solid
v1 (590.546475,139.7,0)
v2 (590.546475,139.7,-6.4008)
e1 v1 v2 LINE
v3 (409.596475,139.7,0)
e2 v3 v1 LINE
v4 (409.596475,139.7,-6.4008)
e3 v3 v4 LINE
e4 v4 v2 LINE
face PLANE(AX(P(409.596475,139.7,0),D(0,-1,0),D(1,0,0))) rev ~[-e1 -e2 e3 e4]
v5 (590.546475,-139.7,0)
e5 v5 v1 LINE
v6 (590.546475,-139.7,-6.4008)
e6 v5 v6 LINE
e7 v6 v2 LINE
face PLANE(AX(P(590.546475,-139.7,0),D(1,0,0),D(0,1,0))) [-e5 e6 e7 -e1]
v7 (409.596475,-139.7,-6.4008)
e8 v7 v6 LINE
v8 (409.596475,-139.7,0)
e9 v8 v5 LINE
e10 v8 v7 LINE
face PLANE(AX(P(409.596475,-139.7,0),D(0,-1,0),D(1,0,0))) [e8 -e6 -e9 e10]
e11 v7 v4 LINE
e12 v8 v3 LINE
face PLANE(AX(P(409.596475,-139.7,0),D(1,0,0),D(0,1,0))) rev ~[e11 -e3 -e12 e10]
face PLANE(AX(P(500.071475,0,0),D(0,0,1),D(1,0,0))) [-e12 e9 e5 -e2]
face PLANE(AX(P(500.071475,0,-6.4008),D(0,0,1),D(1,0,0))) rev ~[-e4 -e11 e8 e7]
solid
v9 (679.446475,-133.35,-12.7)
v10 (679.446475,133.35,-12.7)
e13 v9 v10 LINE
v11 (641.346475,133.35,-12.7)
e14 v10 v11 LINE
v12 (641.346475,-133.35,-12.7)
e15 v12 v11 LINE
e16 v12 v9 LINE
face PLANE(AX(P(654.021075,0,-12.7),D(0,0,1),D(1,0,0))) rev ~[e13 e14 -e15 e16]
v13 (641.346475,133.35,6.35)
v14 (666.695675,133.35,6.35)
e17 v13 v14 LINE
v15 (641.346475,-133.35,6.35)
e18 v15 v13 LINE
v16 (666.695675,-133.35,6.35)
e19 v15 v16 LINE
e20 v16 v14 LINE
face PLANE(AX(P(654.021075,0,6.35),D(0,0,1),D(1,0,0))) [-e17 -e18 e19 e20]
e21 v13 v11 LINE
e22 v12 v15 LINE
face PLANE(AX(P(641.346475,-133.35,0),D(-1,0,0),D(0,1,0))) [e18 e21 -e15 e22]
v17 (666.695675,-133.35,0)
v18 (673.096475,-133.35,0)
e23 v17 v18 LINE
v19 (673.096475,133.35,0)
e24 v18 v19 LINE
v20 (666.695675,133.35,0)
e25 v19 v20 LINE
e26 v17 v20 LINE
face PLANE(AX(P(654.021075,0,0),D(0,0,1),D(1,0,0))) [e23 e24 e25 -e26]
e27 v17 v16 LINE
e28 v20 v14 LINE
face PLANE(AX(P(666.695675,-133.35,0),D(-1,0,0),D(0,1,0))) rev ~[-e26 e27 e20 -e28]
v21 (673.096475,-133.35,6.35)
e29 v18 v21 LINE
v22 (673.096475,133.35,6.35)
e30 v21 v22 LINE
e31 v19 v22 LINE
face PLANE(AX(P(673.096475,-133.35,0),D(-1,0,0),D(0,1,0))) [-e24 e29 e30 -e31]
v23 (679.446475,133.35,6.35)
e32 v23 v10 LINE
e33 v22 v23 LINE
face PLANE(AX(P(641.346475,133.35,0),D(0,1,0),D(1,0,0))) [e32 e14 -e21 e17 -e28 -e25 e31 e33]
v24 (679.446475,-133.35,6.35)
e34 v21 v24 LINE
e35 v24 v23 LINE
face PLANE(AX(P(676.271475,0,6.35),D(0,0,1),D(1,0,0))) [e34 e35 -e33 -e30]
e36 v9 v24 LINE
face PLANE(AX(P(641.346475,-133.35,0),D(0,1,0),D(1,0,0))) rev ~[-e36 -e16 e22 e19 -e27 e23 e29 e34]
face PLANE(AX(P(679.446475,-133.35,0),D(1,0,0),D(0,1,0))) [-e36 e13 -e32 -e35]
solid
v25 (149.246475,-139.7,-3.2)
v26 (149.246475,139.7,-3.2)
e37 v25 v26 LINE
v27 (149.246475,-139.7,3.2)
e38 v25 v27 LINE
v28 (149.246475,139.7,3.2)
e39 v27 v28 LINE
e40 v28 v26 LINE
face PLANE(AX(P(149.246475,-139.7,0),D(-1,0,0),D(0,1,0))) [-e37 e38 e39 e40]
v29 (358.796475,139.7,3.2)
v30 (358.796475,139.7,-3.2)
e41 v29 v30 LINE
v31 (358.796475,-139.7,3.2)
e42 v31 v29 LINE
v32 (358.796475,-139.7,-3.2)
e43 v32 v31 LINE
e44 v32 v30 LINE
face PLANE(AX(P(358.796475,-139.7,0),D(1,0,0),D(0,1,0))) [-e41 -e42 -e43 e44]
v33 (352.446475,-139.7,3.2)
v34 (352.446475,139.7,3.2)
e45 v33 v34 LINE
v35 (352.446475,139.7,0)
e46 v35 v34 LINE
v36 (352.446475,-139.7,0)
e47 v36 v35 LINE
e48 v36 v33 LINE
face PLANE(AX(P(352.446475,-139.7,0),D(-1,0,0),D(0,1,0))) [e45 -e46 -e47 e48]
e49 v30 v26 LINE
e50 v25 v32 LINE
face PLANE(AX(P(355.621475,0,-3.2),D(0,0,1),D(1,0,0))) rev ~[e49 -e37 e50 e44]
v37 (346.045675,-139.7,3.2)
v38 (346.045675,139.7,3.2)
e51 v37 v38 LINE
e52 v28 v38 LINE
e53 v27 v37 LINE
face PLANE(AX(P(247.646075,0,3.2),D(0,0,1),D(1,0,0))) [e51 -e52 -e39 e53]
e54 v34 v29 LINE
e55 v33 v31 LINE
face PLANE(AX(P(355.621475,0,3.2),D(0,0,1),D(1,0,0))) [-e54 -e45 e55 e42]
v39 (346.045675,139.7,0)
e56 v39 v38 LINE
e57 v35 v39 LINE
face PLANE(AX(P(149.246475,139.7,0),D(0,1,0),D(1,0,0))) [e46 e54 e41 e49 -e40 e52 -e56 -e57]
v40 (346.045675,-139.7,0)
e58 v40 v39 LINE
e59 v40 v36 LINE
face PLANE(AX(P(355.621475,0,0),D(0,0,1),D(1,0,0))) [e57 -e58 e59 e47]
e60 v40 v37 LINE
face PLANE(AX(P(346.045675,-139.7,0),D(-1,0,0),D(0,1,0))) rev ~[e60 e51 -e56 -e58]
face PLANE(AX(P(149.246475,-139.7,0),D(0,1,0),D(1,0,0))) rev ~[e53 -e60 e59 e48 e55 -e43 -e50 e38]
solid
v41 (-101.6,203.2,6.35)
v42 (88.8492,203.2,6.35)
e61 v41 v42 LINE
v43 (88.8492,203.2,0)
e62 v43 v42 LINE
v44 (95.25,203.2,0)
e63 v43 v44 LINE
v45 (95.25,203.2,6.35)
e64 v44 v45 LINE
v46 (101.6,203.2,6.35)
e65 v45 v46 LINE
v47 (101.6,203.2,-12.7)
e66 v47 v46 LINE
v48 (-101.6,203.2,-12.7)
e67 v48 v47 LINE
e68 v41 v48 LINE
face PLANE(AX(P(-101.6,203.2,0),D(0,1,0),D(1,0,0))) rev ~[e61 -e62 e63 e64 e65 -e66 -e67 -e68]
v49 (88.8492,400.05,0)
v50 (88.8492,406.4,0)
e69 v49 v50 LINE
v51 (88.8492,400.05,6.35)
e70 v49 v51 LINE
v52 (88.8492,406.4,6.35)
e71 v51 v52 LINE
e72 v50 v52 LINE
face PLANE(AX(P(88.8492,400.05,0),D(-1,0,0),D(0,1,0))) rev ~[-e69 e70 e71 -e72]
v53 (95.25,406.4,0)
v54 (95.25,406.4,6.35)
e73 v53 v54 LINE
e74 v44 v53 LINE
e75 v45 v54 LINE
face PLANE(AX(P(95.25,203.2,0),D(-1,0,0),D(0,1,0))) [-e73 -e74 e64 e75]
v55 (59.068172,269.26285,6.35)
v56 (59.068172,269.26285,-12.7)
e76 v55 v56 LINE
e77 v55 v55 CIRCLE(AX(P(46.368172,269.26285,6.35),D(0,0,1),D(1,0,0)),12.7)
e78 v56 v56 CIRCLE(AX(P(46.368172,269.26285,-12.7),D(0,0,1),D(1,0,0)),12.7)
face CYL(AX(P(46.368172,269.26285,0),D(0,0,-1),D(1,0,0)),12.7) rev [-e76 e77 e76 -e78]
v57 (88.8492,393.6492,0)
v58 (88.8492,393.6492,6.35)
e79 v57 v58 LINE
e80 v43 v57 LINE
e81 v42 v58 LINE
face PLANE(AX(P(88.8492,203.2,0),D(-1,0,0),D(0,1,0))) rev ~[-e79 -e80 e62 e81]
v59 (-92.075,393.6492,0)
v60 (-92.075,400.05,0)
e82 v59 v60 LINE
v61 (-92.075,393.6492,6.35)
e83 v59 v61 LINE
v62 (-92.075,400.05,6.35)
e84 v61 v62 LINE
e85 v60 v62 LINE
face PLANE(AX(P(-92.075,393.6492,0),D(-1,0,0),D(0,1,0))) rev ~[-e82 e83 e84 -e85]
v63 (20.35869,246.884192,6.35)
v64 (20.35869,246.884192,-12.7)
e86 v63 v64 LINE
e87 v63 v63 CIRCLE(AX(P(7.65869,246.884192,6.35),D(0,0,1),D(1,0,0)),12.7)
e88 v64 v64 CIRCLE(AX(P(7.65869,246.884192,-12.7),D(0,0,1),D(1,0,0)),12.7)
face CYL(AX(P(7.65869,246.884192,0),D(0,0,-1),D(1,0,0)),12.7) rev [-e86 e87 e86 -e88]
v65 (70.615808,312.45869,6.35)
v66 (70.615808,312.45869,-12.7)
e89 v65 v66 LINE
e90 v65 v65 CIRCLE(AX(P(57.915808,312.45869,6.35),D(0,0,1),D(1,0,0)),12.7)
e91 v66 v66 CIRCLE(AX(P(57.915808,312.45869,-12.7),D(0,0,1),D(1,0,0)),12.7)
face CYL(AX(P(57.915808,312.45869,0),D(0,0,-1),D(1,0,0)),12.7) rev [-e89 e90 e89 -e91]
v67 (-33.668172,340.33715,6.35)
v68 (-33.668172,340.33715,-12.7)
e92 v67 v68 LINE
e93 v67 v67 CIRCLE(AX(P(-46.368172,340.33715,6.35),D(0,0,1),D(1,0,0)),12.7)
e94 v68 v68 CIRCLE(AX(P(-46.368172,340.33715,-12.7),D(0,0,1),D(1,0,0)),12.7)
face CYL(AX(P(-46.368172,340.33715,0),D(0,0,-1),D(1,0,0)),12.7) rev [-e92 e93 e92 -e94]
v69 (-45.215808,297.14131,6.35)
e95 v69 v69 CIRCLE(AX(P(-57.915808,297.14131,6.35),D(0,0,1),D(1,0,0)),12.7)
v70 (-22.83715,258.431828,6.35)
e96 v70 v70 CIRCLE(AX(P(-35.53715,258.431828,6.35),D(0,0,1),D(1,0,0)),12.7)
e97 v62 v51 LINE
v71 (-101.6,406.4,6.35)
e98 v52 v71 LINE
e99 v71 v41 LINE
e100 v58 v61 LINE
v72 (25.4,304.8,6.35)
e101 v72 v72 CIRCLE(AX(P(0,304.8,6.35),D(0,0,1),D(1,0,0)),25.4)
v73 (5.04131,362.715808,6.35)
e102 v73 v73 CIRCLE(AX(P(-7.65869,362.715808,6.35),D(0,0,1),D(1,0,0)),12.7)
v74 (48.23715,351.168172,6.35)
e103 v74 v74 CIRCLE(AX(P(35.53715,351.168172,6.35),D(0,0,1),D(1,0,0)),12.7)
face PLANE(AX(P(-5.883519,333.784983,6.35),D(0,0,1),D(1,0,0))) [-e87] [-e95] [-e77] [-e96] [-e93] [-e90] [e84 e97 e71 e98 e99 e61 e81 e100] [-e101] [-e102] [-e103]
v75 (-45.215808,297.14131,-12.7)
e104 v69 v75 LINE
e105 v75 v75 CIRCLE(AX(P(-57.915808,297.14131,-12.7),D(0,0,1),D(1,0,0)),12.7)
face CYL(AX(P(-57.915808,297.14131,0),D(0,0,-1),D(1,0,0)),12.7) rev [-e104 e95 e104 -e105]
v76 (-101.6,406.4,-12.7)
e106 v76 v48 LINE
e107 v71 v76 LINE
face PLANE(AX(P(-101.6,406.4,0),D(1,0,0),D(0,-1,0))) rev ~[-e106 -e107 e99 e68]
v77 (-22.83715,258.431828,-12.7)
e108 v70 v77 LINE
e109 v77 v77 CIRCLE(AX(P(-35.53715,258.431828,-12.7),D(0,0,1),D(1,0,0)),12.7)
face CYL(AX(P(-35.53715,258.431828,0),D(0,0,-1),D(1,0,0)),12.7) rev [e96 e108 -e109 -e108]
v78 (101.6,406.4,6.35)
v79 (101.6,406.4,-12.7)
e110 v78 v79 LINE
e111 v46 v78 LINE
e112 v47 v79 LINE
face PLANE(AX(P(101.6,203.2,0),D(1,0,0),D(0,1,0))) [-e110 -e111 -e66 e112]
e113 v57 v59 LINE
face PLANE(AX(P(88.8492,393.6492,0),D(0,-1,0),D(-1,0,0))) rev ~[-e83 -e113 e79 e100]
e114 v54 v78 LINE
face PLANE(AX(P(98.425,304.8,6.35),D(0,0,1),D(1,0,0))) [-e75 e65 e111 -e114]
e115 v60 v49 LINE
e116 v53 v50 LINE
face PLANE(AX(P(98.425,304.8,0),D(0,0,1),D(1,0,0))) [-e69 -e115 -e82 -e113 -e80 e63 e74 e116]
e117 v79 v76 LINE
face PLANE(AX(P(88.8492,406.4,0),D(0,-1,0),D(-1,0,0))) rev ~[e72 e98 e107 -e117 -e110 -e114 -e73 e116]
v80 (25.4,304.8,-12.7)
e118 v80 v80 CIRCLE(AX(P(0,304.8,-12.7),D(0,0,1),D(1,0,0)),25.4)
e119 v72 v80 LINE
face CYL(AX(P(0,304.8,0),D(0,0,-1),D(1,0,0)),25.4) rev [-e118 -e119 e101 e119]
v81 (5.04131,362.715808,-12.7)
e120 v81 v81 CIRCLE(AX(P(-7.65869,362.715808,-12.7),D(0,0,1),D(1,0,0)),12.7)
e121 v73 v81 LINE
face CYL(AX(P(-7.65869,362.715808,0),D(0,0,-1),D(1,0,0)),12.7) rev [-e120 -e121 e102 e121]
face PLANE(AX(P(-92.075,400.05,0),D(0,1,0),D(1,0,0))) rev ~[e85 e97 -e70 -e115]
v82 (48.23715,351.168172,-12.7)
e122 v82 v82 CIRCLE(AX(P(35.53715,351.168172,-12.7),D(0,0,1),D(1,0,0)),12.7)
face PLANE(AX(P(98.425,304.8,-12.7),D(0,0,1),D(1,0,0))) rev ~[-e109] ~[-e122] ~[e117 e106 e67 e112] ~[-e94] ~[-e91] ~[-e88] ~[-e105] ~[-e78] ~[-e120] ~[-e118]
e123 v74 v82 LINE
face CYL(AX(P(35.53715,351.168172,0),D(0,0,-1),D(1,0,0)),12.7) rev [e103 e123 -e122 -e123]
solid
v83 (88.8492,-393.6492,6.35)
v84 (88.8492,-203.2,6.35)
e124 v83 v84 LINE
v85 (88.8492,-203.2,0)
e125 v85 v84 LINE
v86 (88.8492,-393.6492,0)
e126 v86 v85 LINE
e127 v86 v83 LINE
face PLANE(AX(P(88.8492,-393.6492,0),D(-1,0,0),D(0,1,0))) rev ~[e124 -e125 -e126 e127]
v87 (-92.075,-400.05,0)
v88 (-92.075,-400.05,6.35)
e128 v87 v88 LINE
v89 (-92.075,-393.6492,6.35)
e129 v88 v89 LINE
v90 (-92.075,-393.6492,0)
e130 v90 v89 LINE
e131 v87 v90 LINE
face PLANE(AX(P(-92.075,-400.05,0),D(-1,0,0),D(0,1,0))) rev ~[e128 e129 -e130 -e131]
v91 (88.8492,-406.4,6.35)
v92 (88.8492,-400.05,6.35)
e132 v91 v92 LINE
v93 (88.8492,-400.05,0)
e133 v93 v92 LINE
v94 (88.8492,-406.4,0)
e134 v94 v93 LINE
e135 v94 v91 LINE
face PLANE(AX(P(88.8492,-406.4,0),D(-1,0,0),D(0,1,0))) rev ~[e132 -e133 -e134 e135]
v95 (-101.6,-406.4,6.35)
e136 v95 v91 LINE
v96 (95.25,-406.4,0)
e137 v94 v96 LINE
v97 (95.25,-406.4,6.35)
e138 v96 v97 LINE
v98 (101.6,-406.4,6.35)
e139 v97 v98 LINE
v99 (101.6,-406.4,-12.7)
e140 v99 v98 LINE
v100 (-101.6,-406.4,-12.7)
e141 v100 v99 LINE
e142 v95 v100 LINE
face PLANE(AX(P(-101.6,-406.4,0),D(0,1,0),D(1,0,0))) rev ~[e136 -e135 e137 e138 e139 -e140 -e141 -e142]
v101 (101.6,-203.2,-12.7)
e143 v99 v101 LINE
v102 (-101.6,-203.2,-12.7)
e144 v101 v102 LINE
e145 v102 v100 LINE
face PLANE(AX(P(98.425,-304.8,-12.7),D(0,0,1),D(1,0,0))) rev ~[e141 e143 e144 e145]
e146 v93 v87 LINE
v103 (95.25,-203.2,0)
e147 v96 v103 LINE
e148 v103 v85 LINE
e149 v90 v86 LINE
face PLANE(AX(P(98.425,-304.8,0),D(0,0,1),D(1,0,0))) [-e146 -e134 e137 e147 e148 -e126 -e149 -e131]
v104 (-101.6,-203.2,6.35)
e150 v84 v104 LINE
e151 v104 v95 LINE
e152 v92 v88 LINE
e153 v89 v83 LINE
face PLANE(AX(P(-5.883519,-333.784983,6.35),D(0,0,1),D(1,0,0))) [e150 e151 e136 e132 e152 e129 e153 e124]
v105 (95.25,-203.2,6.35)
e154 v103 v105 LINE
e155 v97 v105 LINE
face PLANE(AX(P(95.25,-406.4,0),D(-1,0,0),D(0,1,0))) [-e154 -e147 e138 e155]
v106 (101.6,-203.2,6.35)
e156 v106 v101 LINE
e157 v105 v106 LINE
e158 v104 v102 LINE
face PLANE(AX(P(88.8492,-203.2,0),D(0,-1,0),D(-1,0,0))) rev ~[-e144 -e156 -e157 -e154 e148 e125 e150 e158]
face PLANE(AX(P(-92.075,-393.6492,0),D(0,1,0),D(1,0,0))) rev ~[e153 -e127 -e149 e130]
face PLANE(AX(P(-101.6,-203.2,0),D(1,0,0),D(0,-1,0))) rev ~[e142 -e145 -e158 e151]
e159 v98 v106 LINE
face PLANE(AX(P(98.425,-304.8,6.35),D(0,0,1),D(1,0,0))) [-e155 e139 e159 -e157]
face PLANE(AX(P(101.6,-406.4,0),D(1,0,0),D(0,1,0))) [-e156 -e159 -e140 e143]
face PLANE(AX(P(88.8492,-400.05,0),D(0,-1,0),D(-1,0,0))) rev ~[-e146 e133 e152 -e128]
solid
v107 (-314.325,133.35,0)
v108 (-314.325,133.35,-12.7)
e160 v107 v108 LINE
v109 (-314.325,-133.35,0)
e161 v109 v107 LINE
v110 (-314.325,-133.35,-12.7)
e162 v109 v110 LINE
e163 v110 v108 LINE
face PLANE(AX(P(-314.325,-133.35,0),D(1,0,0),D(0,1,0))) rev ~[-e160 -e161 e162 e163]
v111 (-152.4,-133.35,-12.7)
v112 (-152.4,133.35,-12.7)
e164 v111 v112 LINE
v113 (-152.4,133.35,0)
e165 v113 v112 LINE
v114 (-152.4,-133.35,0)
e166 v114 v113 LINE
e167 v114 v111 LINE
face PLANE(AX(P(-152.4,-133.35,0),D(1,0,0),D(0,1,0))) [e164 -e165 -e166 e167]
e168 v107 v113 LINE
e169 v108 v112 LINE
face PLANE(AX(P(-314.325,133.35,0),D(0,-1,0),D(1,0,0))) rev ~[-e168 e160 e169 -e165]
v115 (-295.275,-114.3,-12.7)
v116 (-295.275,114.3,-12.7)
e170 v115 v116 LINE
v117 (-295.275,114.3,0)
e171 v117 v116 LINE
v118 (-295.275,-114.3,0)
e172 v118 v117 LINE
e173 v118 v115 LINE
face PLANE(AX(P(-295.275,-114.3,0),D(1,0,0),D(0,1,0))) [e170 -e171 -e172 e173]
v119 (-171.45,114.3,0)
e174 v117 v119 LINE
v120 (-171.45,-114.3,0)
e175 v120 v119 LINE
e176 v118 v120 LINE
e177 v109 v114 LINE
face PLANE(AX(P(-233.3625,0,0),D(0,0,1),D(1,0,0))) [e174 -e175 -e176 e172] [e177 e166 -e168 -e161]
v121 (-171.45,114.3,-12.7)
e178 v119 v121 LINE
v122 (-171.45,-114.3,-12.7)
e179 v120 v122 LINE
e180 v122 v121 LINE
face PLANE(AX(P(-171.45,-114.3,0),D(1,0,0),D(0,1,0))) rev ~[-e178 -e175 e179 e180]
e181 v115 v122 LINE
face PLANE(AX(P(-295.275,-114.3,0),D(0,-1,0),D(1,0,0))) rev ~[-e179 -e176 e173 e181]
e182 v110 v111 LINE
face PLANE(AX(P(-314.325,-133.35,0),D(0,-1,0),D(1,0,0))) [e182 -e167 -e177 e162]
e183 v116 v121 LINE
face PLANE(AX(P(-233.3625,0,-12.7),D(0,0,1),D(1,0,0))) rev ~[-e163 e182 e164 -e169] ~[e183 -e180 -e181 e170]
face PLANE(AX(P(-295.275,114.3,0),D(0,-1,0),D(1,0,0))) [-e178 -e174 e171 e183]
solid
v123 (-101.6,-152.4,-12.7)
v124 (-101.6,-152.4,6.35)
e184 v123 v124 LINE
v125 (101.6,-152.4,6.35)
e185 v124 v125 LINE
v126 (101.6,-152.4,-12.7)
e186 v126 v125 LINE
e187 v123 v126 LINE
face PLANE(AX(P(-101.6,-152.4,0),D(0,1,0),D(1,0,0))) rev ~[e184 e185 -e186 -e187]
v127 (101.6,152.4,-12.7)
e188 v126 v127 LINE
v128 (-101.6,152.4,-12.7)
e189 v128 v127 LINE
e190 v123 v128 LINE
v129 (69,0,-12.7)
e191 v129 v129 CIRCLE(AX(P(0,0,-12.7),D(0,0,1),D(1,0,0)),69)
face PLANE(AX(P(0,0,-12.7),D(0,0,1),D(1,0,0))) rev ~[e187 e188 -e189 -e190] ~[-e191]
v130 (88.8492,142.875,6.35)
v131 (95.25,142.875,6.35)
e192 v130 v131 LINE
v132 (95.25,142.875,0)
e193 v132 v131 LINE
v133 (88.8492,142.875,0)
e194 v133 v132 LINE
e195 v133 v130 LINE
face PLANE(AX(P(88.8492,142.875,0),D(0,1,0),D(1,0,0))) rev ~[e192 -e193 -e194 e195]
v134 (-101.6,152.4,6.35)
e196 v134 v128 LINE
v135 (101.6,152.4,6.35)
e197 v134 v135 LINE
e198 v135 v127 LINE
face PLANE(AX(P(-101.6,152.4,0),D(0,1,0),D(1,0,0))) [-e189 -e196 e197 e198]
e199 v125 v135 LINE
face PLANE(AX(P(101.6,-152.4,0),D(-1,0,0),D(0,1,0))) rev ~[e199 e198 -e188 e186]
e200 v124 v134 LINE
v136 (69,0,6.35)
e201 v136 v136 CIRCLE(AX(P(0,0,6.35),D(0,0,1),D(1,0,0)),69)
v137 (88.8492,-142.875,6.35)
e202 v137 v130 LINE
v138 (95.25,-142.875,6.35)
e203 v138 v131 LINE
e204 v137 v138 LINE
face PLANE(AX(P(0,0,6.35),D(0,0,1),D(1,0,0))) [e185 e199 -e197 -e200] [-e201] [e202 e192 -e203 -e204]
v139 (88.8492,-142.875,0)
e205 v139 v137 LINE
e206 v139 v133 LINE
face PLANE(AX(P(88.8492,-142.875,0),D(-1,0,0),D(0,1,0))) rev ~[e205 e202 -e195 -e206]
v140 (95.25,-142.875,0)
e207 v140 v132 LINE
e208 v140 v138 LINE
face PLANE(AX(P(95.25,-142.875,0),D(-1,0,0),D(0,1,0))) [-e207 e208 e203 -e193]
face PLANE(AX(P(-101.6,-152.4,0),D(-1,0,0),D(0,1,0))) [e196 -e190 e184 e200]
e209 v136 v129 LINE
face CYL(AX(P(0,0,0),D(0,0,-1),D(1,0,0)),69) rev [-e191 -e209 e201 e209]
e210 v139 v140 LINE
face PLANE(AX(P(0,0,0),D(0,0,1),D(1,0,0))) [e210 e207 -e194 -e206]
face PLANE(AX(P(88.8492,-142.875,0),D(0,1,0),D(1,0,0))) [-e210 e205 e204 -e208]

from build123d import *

# Parameters (mm, degrees)
F0_W      = 203.2
F0_H      = 304.8
F0_R      = 69
F0_W_2    = 6.4008
F0_H_2    = 285.75
F1_DEPTH  = 12.7
F2_DEPTH  = 6.35
F3_W      = 6.35
F3_H      = 203.2
F3_W_2    = 180.9242
F3_H_2    = 6.4008
F3_W_3    = 2.6920977338
F4_DEPTH  = 12.7
F5_DEPTH  = 6.35
F6_W      = 6.35
F6_H      = 203.2
F6_R      = 12.7
F6_R_2    = 25.4
F6_W_2    = 180.9242
F6_H_2    = 6.4008
F6_W_3    = 3.0305701597
F7_DEPTH  = 12.7
F8_DEPTH  = 6.35
F9_W      = 6.35
F9_H      = 279.4
F9_W_2    = 6.4008
F9_W_3    = 196.7992
F10_DEPTH = 3.2
F11_W     = 161.925
F11_H     = 266.7
F11_W_2   = 123.825
F11_H_2   = 228.6
F12_DEPTH = 12.7
F13_DEPTH = 3.2
F14_W     = 180.95000005
F14_H     = 279.4
F15_DEPTH = 6.4008
F16_W     = 25.3492
F16_H     = 266.7
F16_W_2   = 6.4008
F16_W_3   = 6.35
F17_DEPTH = 12.7
F18_DEPTH = 6.35


with BuildPart() as f1:
    # F0 (on Top) → F1 (new body)
    with BuildSketch(Plane.XY):
        Rectangle(F0_W, F0_H)
        Circle(F0_R, mode=Mode.SUBTRACT)
        with Locations((92.0496, 0)):
            Rectangle(F0_W_2, F0_H_2, mode=Mode.SUBTRACT)
        with Locations((92.0496, 0)):
            Rectangle(F0_W_2, F0_H_2)
    extrude(amount=-F1_DEPTH)

    # F0 (on Top) → F2 (join)
    with BuildSketch(Plane.XY):
        Rectangle(F0_W, F0_H)
        Circle(F0_R, mode=Mode.SUBTRACT)
        with Locations((92.0496, 0)):
            Rectangle(F0_W_2, F0_H_2, mode=Mode.SUBTRACT)
    extrude(amount=F2_DEPTH)


with BuildPart() as f4:
    # F3 (on Top) → F4 (new body)
    with BuildSketch(Plane.XY):
        with Locations((98.425, -304.8)):
            Rectangle(F3_W, F3_H)
        Polygon((88.8492, -406.4), (95.25, -406.4), (95.25, -203.2), (88.8492, -203.2), (88.8492, -393.6492), (91.5412977338, -393.6492), (91.5412977338, -400.05), (88.8492, -400.05), align=None)
        Polygon((-101.6, -406.4), (88.8492, -406.4), (88.8492, -400.05), (-92.075, -400.05), (-92.075, -393.6492), (88.8492, -393.6492), (88.8492, -203.2), (-101.6, -203.2), align=None)
        with Locations((-1.6129, -396.8496)):
            Rectangle(F3_W_2, F3_H_2)
        with Locations((90.1952488669, -396.8496)):
            Rectangle(F3_W_3, F3_H_2)
    extrude(amount=-F4_DEPTH)

    # F3 (on Top) → F5 (join)
    with BuildSketch(Plane.XY):
        Polygon((-101.6, -406.4), (88.8492, -406.4), (88.8492, -400.05), (-92.075, -400.05), (-92.075, -393.6492), (88.8492, -393.6492), (88.8492, -203.2), (-101.6, -203.2), align=None)
        with Locations((98.425, -304.8)):
            Rectangle(F3_W, F3_H)
    extrude(amount=F5_DEPTH)


with BuildPart() as f7:
    # F6 (on Top) → F7 (new body)
    with BuildSketch(Plane.XY):
        with Locations((98.425, 304.8)):
            Rectangle(F6_W, F6_H)
        Polygon((88.8492, 203.2), (95.25, 203.2), (95.25, 406.4), (88.8492, 406.4), (88.8492, 400.05), (91.8797701597, 400.05), (91.8797701597, 393.6492), (88.8492, 393.6492), align=None)
        Polygon((-101.6, 203.2), (88.8492, 203.2), (88.8492, 393.6492), (-92.075, 393.6492), (-92.075, 400.05), (88.8492, 400.05), (88.8492, 406.4), (-101.6, 406.4), align=None)
        with Locations((-57.9158084915, 297.1413103751)):
            Circle(F6_R, mode=Mode.SUBTRACT)
        with Locations((-35.5371495535, 258.431827709)):
            Circle(F6_R, mode=Mode.SUBTRACT)
        with Locations((7.6586896249, 246.8841915085)):
            Circle(F6_R, mode=Mode.SUBTRACT)
        with Locations((46.368172291, 269.2628504465)):
            Circle(F6_R, mode=Mode.SUBTRACT)
        with Locations((0, 304.8)):
            Circle(F6_R_2, mode=Mode.SUBTRACT)
        with Locations((-46.368172291, 340.3371495535)):
            Circle(F6_R, mode=Mode.SUBTRACT)
        with Locations((-7.6586896249, 362.7158084915)):
            Circle(F6_R, mode=Mode.SUBTRACT)
        with Locations((35.5371495535, 351.168172291)):
            Circle(F6_R, mode=Mode.SUBTRACT)
        with Locations((57.9158084915, 312.4586896249)):
            Circle(F6_R, mode=Mode.SUBTRACT)
        with Locations((-1.6129, 396.8496)):
            Rectangle(F6_W_2, F6_H_2)
        with Locations((90.3644850799, 396.8496)):
            Rectangle(F6_W_3, F6_H_2)
    extrude(amount=-F7_DEPTH)

    # F6 (on Top) → F8 (join)
    with BuildSketch(Plane.XY):
        Polygon((-101.6, 203.2), (88.8492, 203.2), (88.8492, 393.6492), (-92.075, 393.6492), (-92.075, 400.05), (88.8492, 400.05), (88.8492, 406.4), (-101.6, 406.4), align=None)
        with Locations((-57.9158084915, 297.1413103751)):
            Circle(F6_R, mode=Mode.SUBTRACT)
        with Locations((-35.5371495535, 258.431827709)):
            Circle(F6_R, mode=Mode.SUBTRACT)
        with Locations((7.6586896249, 246.8841915085)):
            Circle(F6_R, mode=Mode.SUBTRACT)
        with Locations((46.368172291, 269.2628504465)):
            Circle(F6_R, mode=Mode.SUBTRACT)
        with Locations((0, 304.8)):
            Circle(F6_R_2, mode=Mode.SUBTRACT)
        with Locations((-46.368172291, 340.3371495535)):
            Circle(F6_R, mode=Mode.SUBTRACT)
        with Locations((-7.6586896249, 362.7158084915)):
            Circle(F6_R, mode=Mode.SUBTRACT)
        with Locations((35.5371495535, 351.168172291)):
            Circle(F6_R, mode=Mode.SUBTRACT)
        with Locations((57.9158084915, 312.4586896249)):
            Circle(F6_R, mode=Mode.SUBTRACT)
        with Locations((98.425, 304.8)):
            Rectangle(F6_W, F6_H)
    extrude(amount=F8_DEPTH)


with BuildPart() as f10:
    # F9 (on Top) → F10 (new body)
    with BuildSketch(Plane.XY):
        with Locations((355.6214746066, 0)):
            Rectangle(F9_W, F9_H)
        with Locations((349.2460746066, 0)):
            Rectangle(F9_W_2, F9_H)
        with Locations((247.6460746066, 0)):
            Rectangle(F9_W_3, F9_H)
    extrude(amount=-F10_DEPTH)

    # F9 (on Top) → F13 (join)
    with BuildSketch(Plane.XY):
        with Locations((247.6460746066, 0)):
            Rectangle(F9_W_3, F9_H)
        with Locations((355.6214746066, 0)):
            Rectangle(F9_W, F9_H)
    extrude(amount=F13_DEPTH)


with BuildPart() as f12:
    # F11 (on Top) → F12 (new body)
    with BuildSketch(Plane.XY):
        with Locations((-233.3625, 0)):
            Rectangle(F11_W, F11_H)
        with Locations((-233.3625, 0)):
            Rectangle(F11_W_2, F11_H_2, mode=Mode.SUBTRACT)
    extrude(amount=-F12_DEPTH)


with BuildPart() as f15:
    # F14 (on Top) → F15 (new body)
    with BuildSketch(Plane.XY):
        with Locations((500.0714746316, 0)):
            Rectangle(F14_W, F14_H)
    extrude(amount=-F15_DEPTH)


with BuildPart() as f17:
    # F16 (on face) → F17 (new body)
    with BuildSketch(Plane.XY):
        with Locations((654.0210746566, 0)):
            Rectangle(F16_W, F16_H)
        with Locations((669.8960746566, 0)):
            Rectangle(F16_W_2, F16_H)
        with Locations((676.2714746566, 0)):
            Rectangle(F16_W_3, F16_H)
    extrude(amount=-F17_DEPTH)

    # F16 (on face) → F18 (join)
    with BuildSketch(Plane.XY):
        with Locations((654.0210746566, 0)):
            Rectangle(F16_W, F16_H)
        with Locations((676.2714746566, 0)):
            Rectangle(F16_W_3, F16_H)
    extrude(amount=F18_DEPTH)


solid = Compound([f1.part, f4.part, f7.part, f10.part, f12.part, f15.part, f17.part])
